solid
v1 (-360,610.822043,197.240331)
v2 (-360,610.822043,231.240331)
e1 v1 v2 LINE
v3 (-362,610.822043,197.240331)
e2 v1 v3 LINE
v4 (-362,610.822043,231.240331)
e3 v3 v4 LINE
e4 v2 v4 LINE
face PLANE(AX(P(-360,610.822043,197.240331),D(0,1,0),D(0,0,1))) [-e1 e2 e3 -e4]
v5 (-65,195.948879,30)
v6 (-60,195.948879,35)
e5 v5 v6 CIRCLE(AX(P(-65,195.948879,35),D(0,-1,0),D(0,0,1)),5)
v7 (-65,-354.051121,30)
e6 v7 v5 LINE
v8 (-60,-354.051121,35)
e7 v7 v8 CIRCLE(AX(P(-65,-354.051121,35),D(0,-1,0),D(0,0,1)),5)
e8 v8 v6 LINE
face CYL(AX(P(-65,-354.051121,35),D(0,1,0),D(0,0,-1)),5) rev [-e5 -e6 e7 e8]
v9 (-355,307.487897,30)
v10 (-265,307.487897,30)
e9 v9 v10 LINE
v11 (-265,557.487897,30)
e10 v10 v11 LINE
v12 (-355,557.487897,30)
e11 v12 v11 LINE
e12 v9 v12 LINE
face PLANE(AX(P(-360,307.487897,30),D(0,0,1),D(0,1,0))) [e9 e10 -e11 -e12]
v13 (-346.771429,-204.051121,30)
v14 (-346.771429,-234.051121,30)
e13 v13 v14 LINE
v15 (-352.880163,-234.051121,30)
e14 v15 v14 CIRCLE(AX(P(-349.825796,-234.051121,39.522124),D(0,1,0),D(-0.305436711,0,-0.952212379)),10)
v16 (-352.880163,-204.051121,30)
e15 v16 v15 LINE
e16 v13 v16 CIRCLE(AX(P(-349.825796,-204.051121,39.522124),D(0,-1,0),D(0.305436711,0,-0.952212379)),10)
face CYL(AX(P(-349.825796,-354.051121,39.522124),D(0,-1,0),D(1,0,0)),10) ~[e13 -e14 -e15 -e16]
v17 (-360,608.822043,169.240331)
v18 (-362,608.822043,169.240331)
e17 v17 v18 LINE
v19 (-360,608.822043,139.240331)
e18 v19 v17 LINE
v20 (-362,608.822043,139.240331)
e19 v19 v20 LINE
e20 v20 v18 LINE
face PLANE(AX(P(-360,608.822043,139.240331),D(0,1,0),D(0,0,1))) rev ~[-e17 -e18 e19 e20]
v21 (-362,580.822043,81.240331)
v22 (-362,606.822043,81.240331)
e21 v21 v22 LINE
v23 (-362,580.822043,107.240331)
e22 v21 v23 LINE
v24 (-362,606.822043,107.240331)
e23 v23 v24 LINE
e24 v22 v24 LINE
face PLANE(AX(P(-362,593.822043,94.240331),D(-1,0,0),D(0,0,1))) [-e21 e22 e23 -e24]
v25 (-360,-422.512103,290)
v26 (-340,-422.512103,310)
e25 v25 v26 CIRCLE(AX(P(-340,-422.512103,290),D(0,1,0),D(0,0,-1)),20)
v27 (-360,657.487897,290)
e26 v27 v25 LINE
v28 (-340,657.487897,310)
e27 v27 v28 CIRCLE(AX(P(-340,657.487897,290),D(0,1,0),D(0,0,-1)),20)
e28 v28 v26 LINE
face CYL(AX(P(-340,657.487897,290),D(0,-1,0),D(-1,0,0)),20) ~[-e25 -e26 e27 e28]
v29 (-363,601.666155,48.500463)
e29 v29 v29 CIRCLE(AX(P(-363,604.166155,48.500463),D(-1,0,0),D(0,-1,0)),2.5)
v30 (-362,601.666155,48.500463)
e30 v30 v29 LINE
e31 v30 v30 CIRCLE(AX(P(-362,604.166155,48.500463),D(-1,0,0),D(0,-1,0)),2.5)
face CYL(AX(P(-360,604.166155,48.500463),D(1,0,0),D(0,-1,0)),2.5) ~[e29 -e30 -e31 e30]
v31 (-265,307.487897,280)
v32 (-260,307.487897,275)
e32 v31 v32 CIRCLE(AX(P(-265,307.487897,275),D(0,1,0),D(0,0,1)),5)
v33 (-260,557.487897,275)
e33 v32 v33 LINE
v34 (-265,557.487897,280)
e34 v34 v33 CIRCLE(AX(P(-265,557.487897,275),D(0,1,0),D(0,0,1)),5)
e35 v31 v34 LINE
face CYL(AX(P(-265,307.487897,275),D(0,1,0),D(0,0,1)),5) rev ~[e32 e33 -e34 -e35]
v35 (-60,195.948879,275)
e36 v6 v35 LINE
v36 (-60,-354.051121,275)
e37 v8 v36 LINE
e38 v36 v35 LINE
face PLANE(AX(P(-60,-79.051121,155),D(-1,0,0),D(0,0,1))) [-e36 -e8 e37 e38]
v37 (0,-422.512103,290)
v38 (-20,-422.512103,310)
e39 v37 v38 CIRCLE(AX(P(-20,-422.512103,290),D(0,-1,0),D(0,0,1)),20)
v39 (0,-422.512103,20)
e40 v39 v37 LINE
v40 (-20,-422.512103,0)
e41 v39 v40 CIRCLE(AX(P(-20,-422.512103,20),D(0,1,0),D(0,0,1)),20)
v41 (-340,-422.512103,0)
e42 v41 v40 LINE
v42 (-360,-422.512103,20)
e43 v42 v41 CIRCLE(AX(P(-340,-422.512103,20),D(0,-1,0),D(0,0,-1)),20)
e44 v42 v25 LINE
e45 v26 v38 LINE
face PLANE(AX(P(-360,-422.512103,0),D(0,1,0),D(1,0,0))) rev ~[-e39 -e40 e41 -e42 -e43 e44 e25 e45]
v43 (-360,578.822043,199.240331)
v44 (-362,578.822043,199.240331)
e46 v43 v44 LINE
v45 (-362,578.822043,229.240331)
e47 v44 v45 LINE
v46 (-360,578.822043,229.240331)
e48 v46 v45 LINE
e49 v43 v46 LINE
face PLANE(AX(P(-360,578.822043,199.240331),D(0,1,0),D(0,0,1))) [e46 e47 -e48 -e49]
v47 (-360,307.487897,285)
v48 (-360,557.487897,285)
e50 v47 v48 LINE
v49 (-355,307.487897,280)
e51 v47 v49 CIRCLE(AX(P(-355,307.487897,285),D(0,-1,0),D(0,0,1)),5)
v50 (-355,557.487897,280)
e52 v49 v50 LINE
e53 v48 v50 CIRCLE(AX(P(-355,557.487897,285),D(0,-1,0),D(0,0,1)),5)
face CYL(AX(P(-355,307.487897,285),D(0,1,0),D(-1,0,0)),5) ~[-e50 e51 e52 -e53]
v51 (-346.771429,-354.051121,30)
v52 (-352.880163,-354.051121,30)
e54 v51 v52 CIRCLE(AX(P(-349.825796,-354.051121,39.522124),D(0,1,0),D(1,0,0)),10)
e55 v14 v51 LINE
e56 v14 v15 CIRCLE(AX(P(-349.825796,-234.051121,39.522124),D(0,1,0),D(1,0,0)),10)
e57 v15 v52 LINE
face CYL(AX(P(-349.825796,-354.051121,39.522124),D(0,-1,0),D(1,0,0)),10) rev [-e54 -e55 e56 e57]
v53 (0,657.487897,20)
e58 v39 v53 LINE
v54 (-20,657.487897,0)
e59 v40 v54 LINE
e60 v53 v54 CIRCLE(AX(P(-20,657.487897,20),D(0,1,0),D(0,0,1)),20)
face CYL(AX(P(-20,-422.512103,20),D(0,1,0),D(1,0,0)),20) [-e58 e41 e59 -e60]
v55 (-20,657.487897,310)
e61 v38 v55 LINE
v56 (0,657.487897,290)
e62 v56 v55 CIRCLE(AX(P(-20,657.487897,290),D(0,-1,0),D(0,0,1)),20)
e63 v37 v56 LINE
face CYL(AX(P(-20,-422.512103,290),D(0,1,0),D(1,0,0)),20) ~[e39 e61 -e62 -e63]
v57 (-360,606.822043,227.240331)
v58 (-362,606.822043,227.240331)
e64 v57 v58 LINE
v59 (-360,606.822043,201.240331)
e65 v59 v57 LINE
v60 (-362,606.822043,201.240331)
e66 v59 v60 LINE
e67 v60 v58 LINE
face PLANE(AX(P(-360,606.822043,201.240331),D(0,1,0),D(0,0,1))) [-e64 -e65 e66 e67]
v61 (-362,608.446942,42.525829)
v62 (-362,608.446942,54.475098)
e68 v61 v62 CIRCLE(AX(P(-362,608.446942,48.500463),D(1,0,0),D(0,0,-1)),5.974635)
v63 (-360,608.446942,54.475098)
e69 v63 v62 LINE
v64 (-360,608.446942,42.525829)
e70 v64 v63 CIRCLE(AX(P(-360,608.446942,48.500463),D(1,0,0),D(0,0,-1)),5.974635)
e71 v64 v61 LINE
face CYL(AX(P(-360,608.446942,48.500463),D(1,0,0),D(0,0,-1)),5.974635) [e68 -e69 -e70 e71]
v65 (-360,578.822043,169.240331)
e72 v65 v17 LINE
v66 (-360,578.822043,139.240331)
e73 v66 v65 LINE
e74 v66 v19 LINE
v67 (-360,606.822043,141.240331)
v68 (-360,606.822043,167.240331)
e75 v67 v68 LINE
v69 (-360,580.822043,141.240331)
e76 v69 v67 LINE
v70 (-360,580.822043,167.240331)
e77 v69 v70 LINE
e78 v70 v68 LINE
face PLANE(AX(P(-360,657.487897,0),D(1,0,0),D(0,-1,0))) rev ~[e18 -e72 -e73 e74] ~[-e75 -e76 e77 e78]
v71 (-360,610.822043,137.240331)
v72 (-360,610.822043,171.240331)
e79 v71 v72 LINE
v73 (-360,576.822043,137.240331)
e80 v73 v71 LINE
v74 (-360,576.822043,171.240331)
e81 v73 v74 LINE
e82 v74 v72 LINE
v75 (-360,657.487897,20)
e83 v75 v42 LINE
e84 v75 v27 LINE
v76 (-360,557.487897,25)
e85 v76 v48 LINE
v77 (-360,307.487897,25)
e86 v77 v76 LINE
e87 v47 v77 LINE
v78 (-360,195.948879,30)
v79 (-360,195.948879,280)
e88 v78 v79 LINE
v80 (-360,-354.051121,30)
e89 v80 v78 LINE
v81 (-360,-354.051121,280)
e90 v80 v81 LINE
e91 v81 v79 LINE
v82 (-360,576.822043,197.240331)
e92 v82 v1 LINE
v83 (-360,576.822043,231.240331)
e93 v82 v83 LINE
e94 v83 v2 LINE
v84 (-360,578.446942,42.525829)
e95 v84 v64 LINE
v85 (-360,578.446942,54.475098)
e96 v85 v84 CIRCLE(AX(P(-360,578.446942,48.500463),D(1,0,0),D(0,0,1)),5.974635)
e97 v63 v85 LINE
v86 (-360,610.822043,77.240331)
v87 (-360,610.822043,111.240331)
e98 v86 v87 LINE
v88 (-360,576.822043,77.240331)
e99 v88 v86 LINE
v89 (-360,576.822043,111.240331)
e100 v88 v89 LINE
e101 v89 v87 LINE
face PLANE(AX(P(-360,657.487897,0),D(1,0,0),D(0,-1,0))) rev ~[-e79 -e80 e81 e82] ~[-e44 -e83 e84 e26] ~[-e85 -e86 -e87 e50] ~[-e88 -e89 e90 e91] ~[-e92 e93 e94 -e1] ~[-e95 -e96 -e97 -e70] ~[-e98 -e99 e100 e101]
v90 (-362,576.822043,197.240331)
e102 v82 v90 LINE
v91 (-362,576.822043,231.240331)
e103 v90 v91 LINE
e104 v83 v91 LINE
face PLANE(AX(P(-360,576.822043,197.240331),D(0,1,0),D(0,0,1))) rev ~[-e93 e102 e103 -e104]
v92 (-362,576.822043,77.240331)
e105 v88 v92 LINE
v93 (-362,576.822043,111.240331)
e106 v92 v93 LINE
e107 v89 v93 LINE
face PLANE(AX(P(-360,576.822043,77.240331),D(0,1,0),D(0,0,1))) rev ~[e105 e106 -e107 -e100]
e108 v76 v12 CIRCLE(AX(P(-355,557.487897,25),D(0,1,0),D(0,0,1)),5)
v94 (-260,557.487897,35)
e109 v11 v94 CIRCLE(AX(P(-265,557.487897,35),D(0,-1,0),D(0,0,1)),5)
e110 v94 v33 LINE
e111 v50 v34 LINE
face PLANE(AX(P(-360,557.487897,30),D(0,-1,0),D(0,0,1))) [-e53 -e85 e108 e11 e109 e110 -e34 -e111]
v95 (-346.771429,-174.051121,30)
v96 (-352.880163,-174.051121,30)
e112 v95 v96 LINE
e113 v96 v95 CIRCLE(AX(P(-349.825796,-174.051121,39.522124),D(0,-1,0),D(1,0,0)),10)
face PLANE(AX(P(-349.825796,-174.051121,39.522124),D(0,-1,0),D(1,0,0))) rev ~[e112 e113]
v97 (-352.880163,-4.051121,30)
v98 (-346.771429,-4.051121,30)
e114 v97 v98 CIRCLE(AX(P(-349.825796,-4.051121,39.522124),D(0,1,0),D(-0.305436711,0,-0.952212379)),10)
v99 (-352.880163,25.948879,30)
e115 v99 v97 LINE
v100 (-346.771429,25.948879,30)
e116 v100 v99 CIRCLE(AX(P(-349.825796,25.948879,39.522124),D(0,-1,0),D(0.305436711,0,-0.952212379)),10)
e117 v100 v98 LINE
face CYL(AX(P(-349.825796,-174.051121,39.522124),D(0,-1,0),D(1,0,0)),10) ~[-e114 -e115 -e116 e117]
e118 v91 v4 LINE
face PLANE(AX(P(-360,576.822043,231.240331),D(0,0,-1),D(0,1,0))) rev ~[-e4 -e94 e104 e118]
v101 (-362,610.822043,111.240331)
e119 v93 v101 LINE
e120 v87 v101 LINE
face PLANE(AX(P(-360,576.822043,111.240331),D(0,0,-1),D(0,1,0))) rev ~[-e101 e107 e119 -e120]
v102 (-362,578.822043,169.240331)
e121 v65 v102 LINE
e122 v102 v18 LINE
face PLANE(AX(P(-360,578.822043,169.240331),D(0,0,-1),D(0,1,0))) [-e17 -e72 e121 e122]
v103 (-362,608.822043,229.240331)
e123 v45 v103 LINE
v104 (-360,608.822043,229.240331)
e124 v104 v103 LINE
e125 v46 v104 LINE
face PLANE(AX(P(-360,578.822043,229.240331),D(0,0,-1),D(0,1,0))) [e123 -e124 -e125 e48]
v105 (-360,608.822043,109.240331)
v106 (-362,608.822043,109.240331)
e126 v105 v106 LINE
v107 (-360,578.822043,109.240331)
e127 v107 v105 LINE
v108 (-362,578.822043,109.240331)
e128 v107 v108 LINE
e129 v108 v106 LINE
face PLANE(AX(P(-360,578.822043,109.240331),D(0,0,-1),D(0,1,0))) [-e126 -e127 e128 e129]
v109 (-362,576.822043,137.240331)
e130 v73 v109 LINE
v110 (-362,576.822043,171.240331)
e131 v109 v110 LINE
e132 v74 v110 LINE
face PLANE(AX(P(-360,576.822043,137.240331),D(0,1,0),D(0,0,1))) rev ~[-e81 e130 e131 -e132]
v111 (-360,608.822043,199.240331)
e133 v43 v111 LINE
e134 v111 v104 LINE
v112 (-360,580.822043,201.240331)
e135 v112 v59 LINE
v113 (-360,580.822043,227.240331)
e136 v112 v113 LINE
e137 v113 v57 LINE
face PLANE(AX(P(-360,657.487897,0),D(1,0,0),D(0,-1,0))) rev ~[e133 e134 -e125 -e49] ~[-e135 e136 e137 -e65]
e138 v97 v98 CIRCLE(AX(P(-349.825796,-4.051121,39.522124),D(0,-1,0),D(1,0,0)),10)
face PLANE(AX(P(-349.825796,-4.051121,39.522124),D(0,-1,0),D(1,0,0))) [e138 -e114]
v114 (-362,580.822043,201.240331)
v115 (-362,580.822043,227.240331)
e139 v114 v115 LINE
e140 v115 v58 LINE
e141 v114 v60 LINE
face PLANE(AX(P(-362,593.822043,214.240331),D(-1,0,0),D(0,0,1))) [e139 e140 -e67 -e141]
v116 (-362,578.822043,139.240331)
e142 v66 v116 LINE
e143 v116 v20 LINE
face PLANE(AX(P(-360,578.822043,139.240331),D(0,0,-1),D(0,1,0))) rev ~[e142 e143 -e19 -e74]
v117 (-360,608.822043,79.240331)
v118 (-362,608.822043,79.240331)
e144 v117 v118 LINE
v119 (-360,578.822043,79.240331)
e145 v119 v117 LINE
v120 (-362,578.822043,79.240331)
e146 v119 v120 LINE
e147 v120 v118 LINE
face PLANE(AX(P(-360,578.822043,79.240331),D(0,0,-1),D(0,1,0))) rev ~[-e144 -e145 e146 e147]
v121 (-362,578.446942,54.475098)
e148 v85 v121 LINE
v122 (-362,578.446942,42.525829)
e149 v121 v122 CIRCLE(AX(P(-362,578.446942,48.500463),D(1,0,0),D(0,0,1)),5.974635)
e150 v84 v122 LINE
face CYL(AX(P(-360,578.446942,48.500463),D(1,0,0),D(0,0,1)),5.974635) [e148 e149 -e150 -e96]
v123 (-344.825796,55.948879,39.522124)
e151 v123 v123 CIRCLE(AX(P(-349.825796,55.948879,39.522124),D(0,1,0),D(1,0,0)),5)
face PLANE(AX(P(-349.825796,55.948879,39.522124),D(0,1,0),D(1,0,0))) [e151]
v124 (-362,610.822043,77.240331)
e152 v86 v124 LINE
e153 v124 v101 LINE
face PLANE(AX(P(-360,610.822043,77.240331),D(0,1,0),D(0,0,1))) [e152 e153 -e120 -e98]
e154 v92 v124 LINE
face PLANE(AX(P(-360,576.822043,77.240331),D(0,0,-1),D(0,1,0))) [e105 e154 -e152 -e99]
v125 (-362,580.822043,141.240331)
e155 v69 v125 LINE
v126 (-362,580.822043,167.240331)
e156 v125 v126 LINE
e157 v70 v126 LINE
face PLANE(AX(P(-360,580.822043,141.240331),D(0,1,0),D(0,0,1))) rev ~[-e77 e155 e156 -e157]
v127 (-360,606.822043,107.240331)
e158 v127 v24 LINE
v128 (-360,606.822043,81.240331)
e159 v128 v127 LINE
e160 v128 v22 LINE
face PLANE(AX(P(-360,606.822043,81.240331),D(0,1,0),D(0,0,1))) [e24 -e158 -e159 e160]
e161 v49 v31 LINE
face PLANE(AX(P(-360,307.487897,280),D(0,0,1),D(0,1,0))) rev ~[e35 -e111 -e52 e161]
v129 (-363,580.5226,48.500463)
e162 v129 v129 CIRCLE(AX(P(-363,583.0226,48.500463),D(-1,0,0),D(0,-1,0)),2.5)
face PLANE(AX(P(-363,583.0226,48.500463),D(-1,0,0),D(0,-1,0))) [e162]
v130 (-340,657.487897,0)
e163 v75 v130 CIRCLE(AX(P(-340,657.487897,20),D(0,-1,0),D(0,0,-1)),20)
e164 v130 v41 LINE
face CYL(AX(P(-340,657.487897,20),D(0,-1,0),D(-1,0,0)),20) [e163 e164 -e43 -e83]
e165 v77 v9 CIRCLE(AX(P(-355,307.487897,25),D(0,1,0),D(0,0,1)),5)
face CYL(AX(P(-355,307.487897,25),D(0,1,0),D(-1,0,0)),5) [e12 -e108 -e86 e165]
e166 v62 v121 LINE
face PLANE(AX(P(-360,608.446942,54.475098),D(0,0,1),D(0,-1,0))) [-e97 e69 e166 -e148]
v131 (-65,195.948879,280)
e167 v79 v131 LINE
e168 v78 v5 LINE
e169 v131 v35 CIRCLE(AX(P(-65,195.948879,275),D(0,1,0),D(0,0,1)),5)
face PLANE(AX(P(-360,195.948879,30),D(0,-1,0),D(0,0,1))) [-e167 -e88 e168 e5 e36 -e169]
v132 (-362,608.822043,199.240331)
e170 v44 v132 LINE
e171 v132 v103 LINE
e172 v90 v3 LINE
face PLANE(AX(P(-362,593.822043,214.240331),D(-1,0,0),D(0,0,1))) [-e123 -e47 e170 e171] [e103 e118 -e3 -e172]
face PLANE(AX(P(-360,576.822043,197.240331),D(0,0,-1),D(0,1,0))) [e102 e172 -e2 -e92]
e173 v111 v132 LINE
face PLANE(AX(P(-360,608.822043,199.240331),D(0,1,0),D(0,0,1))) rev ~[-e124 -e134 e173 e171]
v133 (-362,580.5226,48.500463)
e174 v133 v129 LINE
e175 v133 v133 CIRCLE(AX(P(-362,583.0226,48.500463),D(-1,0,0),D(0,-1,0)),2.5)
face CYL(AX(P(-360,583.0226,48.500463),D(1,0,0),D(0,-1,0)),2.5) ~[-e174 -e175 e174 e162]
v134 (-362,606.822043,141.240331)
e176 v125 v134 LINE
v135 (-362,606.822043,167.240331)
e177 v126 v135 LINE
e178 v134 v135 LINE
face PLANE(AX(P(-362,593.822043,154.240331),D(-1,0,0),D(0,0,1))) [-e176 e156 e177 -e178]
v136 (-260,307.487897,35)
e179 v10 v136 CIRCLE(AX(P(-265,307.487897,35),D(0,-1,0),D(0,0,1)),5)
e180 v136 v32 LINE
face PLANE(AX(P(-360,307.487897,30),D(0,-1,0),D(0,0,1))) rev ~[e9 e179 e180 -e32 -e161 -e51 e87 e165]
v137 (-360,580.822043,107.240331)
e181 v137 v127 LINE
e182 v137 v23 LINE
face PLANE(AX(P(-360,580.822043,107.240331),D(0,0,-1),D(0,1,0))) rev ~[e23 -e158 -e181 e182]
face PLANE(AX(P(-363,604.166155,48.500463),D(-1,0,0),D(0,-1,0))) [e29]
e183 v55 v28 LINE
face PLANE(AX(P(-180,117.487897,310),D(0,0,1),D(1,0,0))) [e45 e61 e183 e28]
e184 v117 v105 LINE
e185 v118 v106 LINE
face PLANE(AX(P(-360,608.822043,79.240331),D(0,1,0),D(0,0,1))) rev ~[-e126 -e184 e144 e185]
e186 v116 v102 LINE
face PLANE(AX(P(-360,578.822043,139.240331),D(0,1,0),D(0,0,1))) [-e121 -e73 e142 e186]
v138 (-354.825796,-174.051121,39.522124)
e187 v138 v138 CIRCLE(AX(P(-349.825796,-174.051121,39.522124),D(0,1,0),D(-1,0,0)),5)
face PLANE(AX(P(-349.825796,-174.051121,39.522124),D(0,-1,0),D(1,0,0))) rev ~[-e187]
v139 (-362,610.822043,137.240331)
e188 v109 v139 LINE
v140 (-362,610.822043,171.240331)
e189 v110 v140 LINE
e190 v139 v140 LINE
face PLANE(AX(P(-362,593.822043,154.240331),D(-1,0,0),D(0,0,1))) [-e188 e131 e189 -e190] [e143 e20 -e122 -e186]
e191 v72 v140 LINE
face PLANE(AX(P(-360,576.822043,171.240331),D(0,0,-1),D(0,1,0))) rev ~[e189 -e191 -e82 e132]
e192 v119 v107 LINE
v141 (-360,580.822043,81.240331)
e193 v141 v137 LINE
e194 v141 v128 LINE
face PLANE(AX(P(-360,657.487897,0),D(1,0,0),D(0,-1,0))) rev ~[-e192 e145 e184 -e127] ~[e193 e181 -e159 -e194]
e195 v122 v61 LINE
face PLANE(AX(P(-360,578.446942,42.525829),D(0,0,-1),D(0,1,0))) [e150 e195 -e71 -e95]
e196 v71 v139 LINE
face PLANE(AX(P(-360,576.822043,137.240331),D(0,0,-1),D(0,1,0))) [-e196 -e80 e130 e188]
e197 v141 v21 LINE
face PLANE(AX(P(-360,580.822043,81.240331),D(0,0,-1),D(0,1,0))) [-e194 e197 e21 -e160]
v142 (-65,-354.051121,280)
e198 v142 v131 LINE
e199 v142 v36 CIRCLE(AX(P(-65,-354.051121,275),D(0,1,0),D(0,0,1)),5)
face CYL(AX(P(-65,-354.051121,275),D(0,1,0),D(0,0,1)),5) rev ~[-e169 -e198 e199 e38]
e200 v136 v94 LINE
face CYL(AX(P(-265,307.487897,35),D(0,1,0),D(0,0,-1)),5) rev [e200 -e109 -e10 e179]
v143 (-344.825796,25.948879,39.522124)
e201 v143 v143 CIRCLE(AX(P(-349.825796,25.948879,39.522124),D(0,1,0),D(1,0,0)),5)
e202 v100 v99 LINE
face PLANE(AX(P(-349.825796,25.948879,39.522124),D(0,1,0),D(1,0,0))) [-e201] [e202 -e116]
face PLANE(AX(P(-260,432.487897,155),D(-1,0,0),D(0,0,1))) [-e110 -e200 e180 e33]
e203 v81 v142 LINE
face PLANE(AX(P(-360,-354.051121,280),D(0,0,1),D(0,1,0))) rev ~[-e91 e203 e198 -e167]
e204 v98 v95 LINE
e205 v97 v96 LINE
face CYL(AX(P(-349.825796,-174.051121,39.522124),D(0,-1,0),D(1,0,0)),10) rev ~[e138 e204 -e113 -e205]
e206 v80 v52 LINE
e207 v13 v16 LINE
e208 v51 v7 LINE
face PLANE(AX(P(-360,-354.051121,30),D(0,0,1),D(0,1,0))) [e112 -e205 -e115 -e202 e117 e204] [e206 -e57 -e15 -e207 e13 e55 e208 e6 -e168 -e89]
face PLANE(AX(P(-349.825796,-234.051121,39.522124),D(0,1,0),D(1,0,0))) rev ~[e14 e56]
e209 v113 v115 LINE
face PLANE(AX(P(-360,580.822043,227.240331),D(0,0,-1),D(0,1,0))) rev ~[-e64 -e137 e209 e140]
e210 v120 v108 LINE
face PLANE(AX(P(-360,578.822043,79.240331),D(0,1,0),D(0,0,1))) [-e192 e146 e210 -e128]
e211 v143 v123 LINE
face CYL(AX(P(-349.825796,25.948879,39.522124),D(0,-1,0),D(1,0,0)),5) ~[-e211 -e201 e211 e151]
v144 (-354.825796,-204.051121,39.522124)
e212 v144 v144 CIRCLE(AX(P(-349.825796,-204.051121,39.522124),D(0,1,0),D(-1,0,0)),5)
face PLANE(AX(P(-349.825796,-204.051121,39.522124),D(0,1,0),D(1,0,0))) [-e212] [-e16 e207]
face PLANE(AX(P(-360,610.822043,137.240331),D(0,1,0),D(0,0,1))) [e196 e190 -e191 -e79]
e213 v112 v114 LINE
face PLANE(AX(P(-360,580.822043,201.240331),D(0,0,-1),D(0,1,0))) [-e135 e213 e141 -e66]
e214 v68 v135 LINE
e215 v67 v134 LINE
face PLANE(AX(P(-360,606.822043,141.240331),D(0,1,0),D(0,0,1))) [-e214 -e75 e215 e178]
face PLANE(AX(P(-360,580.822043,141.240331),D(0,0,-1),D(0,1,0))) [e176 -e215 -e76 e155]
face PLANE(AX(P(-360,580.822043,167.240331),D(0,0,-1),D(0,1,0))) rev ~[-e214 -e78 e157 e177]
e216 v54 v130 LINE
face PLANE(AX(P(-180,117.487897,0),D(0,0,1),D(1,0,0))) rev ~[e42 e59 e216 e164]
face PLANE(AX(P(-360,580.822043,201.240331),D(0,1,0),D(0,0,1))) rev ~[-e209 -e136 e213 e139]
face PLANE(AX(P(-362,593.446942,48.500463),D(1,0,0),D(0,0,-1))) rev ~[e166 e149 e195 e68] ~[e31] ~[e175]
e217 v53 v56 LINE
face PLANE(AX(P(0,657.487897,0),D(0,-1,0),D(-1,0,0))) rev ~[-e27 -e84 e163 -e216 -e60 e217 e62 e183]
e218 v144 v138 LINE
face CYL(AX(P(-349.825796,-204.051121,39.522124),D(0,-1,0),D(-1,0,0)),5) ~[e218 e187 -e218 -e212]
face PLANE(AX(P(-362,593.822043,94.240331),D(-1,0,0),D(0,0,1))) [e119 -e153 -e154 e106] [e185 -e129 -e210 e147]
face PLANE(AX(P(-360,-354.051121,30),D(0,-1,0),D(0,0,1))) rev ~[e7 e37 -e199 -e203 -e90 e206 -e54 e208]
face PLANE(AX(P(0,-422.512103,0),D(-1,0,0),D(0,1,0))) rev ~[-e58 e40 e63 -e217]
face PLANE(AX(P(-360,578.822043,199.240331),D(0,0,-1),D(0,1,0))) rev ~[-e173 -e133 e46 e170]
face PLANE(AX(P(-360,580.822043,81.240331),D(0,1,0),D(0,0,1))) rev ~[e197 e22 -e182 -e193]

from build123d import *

# Parameters (mm, degrees)
BOSS_EXTRUDE1_DEPTH  = 310
SKETCH2_W            = 250
SKETCH2_H            = 250
CUT_EXTRUDE3_DEPTH   = 100
SKETCH4_W            = 250
SKETCH4_H            = 550
CUT_EXTRUDE4_DEPTH   = 300
FILLET1_R            = 20
FILLET3_R            = 5
SKETCH6_W            = 34
SKETCH6_H            = 34
SKETCH6_W_2          = 30
SKETCH6_H_2          = 30
BOSS_EXTRUDE4_DEPTH  = 2
SKETCH8_W            = 26
SKETCH8_H            = 26
BOSS_EXTRUDE5_DEPTH  = 2
SKETCH9_R            = 2.5
BOSS_EXTRUDE6_DEPTH  = 2
SKETCH10_R           = 2.5
BOSS_EXTRUDE7_DEPTH  = 3
SKETCH17_R           = 10
BOSS_EXTRUDE15_DEPTH = 150
SKETCH19_R           = 10
CUT_EXTRUDE5_DEPTH   = 120
SKETCH20_R           = 5
BOSS_EXTRUDE16_DEPTH = 30
SKETCH22_R           = 10
BOSS_EXTRUDE20_DEPTH = 200
SKETCH27_R           = 10
CUT_EXTRUDE7_DEPTH   = 170
SKETCH28_R           = 5
BOSS_EXTRUDE21_DEPTH = 30


with BuildPart() as part:
    # Sketch1 → Boss-Extrude1 (new body)
    with BuildSketch(Plane.XY):
        Polygon((-360, -166.674176782), (-360, -422.512102988), (0, -422.512102988), (0, 657.487897012), (-360, 657.487897012), align=None)
    extrude(amount=BOSS_EXTRUDE1_DEPTH)

    # Sketch2 → Cut-Extrude3 (cut)
    with BuildSketch(Plane.ZY.offset(360)):
        with Locations((155, 432.487897012)):
            Rectangle(SKETCH2_W, SKETCH2_H)
    extrude(amount=-CUT_EXTRUDE3_DEPTH, mode=Mode.SUBTRACT)

    # Sketch4 → Cut-Extrude4 (cut)
    with BuildSketch(Plane.ZY.offset(360)):
        with Locations((155, -79.051121205)):
            Rectangle(SKETCH4_W, SKETCH4_H)
    extrude(amount=-CUT_EXTRUDE4_DEPTH, mode=Mode.SUBTRACT)

    # Fillet1
    fillet1_edges = [part.edges().sort_by_distance(p)[0] for p in [
        (-360, 117.487897012, 0),
        (0, 117.487897012, 0),
        (0, 117.487897012, 310),
        (-360, 117.487897012, 310),
    ]]
    fillet(fillet1_edges, radius=FILLET1_R)

    # Fillet3
    fillet3_edges = [part.edges().sort_by_distance(p)[0] for p in [
        (-60, -79.051121205, 30),
        (-60, -79.051121205, 280),
        (-360, 432.487897012, 280),
        (-260, 432.487897012, 280),
        (-360, 432.487897012, 30),
        (-260, 432.487897012, 30),
    ]]
    fillet(fillet3_edges, radius=FILLET3_R)

    # Sketch6 → Boss-Extrude4 (add)
    # profile 1 of 3: a face of its own
    with BuildSketch(Plane.ZY.offset(360)):
        with Locations((94.240330872, 593.82204287)):
            Rectangle(SKETCH6_W, SKETCH6_H)
        with Locations((94.240330872, 593.82204287)):
            Rectangle(SKETCH6_W_2, SKETCH6_H_2, mode=Mode.SUBTRACT)
    # profile 2 of 3: a face of its own
    with BuildSketch(Plane.ZY.offset(360)):
        with Locations((154.240330872, 593.82204287)):
            Rectangle(SKETCH6_W, SKETCH6_H)
        with Locations((154.240330872, 593.82204287)):
            Rectangle(SKETCH6_W_2, SKETCH6_H_2, mode=Mode.SUBTRACT)
    # profile 3 of 3: a face of its own
    with BuildSketch(Plane.ZY.offset(360)):
        with Locations((214.240330872, 593.82204287)):
            Rectangle(SKETCH6_W, SKETCH6_H)
        with Locations((214.240330872, 593.82204287)):
            Rectangle(SKETCH6_W_2, SKETCH6_H_2, mode=Mode.SUBTRACT)
    extrude(amount=BOSS_EXTRUDE4_DEPTH)

    # Sketch8 → Boss-Extrude5 (add)
    with BuildSketch(Plane.ZY.offset(360)):
        with Locations((94.240330872, 593.82204287)):
            Rectangle(SKETCH8_W, SKETCH8_H)
        with Locations((154.240330872, 593.82204287)):
            Rectangle(SKETCH8_W, SKETCH8_H)
        with Locations((214.240330872, 593.82204287)):
            Rectangle(SKETCH8_W, SKETCH8_H)
    extrude(amount=BOSS_EXTRUDE5_DEPTH)

    # Sketch9 → Boss-Extrude6 (add)
    with BuildSketch(Plane.ZY.offset(360)):
        with BuildLine():
            Line((42.525828736, 578.446941707), (42.525828736, 608.446941707))
            ThreePointArc((42.525828736, 608.446941707), (48.500463489, 614.42157646), (54.475098242, 608.446941707))
            Line((54.475098242, 608.446941707), (54.475098242, 578.446941707))
            ThreePointArc((54.475098242, 578.446941707), (48.500463489, 572.472306954), (42.525828736, 578.446941707))
        make_face()
        with Locations((48.500463489, 604.166154606)):
            Circle(SKETCH9_R, mode=Mode.SUBTRACT)
        with Locations((48.500463489, 583.02259952)):
            Circle(SKETCH9_R, mode=Mode.SUBTRACT)
    extrude(amount=BOSS_EXTRUDE6_DEPTH)

    # Sketch10 → Boss-Extrude7 (add)
    with BuildSketch(Plane.ZY.offset(360)):
        with Locations((48.500463489, 604.166154606)):
            Circle(SKETCH10_R)
        with Locations((48.500463489, 583.02259952)):
            Circle(SKETCH10_R)
    extrude(amount=BOSS_EXTRUDE7_DEPTH)

    # Sketch17 → Boss-Extrude15 (add)
    with BuildSketch(Plane(origin=(0, -354.051121205, 0), x_dir=(1, 0, 0), z_dir=(0, 1, 0))):
        with Locations((-349.825795865, -39.522123793)):
            Circle(SKETCH17_R)
    extrude(amount=BOSS_EXTRUDE15_DEPTH)

    # Sketch19 → Cut-Extrude5 (cut)
    with BuildSketch(Plane(origin=(0, -354.051121205, 0), x_dir=(1, 0, 0), z_dir=(0, 1, 0))):
        with Locations((-349.825795865, -39.522123793)):
            Circle(SKETCH19_R)
    extrude(amount=CUT_EXTRUDE5_DEPTH, mode=Mode.SUBTRACT)

    # Sketch20 → Boss-Extrude16 (add)
    with BuildSketch(Plane(origin=(0, -204.051121205, 0), x_dir=(1, 0, 0), z_dir=(0, 1, 0))):
        with Locations((-349.825795865, -39.522123793)):
            Circle(SKETCH20_R)
    extrude(amount=BOSS_EXTRUDE16_DEPTH)

    # Sketch22 → Boss-Extrude20 (add)
    with BuildSketch(Plane(origin=(0, -174.051121205, 0), x_dir=(1, 0, 0), z_dir=(0, 1, 0))):
        with Locations((-349.825795865, -39.522123793)):
            Circle(SKETCH22_R)
    extrude(amount=BOSS_EXTRUDE20_DEPTH)

    # Sketch27 → Cut-Extrude7 (cut)
    with BuildSketch(Plane.XZ.offset(174.051121205)):
        with Locations((-349.825795865, 39.522123793)):
            Circle(SKETCH27_R)
    extrude(amount=-CUT_EXTRUDE7_DEPTH, mode=Mode.SUBTRACT)

    # Sketch28 → Boss-Extrude21 (add)
    with BuildSketch(Plane(origin=(0, 25.948878795, 0), x_dir=(1, 0, 0), z_dir=(0, 1, 0))):
        with Locations((-349.825795865, -39.522123793)):
            Circle(SKETCH28_R)
    extrude(amount=BOSS_EXTRUDE21_DEPTH)


solid = part.part
